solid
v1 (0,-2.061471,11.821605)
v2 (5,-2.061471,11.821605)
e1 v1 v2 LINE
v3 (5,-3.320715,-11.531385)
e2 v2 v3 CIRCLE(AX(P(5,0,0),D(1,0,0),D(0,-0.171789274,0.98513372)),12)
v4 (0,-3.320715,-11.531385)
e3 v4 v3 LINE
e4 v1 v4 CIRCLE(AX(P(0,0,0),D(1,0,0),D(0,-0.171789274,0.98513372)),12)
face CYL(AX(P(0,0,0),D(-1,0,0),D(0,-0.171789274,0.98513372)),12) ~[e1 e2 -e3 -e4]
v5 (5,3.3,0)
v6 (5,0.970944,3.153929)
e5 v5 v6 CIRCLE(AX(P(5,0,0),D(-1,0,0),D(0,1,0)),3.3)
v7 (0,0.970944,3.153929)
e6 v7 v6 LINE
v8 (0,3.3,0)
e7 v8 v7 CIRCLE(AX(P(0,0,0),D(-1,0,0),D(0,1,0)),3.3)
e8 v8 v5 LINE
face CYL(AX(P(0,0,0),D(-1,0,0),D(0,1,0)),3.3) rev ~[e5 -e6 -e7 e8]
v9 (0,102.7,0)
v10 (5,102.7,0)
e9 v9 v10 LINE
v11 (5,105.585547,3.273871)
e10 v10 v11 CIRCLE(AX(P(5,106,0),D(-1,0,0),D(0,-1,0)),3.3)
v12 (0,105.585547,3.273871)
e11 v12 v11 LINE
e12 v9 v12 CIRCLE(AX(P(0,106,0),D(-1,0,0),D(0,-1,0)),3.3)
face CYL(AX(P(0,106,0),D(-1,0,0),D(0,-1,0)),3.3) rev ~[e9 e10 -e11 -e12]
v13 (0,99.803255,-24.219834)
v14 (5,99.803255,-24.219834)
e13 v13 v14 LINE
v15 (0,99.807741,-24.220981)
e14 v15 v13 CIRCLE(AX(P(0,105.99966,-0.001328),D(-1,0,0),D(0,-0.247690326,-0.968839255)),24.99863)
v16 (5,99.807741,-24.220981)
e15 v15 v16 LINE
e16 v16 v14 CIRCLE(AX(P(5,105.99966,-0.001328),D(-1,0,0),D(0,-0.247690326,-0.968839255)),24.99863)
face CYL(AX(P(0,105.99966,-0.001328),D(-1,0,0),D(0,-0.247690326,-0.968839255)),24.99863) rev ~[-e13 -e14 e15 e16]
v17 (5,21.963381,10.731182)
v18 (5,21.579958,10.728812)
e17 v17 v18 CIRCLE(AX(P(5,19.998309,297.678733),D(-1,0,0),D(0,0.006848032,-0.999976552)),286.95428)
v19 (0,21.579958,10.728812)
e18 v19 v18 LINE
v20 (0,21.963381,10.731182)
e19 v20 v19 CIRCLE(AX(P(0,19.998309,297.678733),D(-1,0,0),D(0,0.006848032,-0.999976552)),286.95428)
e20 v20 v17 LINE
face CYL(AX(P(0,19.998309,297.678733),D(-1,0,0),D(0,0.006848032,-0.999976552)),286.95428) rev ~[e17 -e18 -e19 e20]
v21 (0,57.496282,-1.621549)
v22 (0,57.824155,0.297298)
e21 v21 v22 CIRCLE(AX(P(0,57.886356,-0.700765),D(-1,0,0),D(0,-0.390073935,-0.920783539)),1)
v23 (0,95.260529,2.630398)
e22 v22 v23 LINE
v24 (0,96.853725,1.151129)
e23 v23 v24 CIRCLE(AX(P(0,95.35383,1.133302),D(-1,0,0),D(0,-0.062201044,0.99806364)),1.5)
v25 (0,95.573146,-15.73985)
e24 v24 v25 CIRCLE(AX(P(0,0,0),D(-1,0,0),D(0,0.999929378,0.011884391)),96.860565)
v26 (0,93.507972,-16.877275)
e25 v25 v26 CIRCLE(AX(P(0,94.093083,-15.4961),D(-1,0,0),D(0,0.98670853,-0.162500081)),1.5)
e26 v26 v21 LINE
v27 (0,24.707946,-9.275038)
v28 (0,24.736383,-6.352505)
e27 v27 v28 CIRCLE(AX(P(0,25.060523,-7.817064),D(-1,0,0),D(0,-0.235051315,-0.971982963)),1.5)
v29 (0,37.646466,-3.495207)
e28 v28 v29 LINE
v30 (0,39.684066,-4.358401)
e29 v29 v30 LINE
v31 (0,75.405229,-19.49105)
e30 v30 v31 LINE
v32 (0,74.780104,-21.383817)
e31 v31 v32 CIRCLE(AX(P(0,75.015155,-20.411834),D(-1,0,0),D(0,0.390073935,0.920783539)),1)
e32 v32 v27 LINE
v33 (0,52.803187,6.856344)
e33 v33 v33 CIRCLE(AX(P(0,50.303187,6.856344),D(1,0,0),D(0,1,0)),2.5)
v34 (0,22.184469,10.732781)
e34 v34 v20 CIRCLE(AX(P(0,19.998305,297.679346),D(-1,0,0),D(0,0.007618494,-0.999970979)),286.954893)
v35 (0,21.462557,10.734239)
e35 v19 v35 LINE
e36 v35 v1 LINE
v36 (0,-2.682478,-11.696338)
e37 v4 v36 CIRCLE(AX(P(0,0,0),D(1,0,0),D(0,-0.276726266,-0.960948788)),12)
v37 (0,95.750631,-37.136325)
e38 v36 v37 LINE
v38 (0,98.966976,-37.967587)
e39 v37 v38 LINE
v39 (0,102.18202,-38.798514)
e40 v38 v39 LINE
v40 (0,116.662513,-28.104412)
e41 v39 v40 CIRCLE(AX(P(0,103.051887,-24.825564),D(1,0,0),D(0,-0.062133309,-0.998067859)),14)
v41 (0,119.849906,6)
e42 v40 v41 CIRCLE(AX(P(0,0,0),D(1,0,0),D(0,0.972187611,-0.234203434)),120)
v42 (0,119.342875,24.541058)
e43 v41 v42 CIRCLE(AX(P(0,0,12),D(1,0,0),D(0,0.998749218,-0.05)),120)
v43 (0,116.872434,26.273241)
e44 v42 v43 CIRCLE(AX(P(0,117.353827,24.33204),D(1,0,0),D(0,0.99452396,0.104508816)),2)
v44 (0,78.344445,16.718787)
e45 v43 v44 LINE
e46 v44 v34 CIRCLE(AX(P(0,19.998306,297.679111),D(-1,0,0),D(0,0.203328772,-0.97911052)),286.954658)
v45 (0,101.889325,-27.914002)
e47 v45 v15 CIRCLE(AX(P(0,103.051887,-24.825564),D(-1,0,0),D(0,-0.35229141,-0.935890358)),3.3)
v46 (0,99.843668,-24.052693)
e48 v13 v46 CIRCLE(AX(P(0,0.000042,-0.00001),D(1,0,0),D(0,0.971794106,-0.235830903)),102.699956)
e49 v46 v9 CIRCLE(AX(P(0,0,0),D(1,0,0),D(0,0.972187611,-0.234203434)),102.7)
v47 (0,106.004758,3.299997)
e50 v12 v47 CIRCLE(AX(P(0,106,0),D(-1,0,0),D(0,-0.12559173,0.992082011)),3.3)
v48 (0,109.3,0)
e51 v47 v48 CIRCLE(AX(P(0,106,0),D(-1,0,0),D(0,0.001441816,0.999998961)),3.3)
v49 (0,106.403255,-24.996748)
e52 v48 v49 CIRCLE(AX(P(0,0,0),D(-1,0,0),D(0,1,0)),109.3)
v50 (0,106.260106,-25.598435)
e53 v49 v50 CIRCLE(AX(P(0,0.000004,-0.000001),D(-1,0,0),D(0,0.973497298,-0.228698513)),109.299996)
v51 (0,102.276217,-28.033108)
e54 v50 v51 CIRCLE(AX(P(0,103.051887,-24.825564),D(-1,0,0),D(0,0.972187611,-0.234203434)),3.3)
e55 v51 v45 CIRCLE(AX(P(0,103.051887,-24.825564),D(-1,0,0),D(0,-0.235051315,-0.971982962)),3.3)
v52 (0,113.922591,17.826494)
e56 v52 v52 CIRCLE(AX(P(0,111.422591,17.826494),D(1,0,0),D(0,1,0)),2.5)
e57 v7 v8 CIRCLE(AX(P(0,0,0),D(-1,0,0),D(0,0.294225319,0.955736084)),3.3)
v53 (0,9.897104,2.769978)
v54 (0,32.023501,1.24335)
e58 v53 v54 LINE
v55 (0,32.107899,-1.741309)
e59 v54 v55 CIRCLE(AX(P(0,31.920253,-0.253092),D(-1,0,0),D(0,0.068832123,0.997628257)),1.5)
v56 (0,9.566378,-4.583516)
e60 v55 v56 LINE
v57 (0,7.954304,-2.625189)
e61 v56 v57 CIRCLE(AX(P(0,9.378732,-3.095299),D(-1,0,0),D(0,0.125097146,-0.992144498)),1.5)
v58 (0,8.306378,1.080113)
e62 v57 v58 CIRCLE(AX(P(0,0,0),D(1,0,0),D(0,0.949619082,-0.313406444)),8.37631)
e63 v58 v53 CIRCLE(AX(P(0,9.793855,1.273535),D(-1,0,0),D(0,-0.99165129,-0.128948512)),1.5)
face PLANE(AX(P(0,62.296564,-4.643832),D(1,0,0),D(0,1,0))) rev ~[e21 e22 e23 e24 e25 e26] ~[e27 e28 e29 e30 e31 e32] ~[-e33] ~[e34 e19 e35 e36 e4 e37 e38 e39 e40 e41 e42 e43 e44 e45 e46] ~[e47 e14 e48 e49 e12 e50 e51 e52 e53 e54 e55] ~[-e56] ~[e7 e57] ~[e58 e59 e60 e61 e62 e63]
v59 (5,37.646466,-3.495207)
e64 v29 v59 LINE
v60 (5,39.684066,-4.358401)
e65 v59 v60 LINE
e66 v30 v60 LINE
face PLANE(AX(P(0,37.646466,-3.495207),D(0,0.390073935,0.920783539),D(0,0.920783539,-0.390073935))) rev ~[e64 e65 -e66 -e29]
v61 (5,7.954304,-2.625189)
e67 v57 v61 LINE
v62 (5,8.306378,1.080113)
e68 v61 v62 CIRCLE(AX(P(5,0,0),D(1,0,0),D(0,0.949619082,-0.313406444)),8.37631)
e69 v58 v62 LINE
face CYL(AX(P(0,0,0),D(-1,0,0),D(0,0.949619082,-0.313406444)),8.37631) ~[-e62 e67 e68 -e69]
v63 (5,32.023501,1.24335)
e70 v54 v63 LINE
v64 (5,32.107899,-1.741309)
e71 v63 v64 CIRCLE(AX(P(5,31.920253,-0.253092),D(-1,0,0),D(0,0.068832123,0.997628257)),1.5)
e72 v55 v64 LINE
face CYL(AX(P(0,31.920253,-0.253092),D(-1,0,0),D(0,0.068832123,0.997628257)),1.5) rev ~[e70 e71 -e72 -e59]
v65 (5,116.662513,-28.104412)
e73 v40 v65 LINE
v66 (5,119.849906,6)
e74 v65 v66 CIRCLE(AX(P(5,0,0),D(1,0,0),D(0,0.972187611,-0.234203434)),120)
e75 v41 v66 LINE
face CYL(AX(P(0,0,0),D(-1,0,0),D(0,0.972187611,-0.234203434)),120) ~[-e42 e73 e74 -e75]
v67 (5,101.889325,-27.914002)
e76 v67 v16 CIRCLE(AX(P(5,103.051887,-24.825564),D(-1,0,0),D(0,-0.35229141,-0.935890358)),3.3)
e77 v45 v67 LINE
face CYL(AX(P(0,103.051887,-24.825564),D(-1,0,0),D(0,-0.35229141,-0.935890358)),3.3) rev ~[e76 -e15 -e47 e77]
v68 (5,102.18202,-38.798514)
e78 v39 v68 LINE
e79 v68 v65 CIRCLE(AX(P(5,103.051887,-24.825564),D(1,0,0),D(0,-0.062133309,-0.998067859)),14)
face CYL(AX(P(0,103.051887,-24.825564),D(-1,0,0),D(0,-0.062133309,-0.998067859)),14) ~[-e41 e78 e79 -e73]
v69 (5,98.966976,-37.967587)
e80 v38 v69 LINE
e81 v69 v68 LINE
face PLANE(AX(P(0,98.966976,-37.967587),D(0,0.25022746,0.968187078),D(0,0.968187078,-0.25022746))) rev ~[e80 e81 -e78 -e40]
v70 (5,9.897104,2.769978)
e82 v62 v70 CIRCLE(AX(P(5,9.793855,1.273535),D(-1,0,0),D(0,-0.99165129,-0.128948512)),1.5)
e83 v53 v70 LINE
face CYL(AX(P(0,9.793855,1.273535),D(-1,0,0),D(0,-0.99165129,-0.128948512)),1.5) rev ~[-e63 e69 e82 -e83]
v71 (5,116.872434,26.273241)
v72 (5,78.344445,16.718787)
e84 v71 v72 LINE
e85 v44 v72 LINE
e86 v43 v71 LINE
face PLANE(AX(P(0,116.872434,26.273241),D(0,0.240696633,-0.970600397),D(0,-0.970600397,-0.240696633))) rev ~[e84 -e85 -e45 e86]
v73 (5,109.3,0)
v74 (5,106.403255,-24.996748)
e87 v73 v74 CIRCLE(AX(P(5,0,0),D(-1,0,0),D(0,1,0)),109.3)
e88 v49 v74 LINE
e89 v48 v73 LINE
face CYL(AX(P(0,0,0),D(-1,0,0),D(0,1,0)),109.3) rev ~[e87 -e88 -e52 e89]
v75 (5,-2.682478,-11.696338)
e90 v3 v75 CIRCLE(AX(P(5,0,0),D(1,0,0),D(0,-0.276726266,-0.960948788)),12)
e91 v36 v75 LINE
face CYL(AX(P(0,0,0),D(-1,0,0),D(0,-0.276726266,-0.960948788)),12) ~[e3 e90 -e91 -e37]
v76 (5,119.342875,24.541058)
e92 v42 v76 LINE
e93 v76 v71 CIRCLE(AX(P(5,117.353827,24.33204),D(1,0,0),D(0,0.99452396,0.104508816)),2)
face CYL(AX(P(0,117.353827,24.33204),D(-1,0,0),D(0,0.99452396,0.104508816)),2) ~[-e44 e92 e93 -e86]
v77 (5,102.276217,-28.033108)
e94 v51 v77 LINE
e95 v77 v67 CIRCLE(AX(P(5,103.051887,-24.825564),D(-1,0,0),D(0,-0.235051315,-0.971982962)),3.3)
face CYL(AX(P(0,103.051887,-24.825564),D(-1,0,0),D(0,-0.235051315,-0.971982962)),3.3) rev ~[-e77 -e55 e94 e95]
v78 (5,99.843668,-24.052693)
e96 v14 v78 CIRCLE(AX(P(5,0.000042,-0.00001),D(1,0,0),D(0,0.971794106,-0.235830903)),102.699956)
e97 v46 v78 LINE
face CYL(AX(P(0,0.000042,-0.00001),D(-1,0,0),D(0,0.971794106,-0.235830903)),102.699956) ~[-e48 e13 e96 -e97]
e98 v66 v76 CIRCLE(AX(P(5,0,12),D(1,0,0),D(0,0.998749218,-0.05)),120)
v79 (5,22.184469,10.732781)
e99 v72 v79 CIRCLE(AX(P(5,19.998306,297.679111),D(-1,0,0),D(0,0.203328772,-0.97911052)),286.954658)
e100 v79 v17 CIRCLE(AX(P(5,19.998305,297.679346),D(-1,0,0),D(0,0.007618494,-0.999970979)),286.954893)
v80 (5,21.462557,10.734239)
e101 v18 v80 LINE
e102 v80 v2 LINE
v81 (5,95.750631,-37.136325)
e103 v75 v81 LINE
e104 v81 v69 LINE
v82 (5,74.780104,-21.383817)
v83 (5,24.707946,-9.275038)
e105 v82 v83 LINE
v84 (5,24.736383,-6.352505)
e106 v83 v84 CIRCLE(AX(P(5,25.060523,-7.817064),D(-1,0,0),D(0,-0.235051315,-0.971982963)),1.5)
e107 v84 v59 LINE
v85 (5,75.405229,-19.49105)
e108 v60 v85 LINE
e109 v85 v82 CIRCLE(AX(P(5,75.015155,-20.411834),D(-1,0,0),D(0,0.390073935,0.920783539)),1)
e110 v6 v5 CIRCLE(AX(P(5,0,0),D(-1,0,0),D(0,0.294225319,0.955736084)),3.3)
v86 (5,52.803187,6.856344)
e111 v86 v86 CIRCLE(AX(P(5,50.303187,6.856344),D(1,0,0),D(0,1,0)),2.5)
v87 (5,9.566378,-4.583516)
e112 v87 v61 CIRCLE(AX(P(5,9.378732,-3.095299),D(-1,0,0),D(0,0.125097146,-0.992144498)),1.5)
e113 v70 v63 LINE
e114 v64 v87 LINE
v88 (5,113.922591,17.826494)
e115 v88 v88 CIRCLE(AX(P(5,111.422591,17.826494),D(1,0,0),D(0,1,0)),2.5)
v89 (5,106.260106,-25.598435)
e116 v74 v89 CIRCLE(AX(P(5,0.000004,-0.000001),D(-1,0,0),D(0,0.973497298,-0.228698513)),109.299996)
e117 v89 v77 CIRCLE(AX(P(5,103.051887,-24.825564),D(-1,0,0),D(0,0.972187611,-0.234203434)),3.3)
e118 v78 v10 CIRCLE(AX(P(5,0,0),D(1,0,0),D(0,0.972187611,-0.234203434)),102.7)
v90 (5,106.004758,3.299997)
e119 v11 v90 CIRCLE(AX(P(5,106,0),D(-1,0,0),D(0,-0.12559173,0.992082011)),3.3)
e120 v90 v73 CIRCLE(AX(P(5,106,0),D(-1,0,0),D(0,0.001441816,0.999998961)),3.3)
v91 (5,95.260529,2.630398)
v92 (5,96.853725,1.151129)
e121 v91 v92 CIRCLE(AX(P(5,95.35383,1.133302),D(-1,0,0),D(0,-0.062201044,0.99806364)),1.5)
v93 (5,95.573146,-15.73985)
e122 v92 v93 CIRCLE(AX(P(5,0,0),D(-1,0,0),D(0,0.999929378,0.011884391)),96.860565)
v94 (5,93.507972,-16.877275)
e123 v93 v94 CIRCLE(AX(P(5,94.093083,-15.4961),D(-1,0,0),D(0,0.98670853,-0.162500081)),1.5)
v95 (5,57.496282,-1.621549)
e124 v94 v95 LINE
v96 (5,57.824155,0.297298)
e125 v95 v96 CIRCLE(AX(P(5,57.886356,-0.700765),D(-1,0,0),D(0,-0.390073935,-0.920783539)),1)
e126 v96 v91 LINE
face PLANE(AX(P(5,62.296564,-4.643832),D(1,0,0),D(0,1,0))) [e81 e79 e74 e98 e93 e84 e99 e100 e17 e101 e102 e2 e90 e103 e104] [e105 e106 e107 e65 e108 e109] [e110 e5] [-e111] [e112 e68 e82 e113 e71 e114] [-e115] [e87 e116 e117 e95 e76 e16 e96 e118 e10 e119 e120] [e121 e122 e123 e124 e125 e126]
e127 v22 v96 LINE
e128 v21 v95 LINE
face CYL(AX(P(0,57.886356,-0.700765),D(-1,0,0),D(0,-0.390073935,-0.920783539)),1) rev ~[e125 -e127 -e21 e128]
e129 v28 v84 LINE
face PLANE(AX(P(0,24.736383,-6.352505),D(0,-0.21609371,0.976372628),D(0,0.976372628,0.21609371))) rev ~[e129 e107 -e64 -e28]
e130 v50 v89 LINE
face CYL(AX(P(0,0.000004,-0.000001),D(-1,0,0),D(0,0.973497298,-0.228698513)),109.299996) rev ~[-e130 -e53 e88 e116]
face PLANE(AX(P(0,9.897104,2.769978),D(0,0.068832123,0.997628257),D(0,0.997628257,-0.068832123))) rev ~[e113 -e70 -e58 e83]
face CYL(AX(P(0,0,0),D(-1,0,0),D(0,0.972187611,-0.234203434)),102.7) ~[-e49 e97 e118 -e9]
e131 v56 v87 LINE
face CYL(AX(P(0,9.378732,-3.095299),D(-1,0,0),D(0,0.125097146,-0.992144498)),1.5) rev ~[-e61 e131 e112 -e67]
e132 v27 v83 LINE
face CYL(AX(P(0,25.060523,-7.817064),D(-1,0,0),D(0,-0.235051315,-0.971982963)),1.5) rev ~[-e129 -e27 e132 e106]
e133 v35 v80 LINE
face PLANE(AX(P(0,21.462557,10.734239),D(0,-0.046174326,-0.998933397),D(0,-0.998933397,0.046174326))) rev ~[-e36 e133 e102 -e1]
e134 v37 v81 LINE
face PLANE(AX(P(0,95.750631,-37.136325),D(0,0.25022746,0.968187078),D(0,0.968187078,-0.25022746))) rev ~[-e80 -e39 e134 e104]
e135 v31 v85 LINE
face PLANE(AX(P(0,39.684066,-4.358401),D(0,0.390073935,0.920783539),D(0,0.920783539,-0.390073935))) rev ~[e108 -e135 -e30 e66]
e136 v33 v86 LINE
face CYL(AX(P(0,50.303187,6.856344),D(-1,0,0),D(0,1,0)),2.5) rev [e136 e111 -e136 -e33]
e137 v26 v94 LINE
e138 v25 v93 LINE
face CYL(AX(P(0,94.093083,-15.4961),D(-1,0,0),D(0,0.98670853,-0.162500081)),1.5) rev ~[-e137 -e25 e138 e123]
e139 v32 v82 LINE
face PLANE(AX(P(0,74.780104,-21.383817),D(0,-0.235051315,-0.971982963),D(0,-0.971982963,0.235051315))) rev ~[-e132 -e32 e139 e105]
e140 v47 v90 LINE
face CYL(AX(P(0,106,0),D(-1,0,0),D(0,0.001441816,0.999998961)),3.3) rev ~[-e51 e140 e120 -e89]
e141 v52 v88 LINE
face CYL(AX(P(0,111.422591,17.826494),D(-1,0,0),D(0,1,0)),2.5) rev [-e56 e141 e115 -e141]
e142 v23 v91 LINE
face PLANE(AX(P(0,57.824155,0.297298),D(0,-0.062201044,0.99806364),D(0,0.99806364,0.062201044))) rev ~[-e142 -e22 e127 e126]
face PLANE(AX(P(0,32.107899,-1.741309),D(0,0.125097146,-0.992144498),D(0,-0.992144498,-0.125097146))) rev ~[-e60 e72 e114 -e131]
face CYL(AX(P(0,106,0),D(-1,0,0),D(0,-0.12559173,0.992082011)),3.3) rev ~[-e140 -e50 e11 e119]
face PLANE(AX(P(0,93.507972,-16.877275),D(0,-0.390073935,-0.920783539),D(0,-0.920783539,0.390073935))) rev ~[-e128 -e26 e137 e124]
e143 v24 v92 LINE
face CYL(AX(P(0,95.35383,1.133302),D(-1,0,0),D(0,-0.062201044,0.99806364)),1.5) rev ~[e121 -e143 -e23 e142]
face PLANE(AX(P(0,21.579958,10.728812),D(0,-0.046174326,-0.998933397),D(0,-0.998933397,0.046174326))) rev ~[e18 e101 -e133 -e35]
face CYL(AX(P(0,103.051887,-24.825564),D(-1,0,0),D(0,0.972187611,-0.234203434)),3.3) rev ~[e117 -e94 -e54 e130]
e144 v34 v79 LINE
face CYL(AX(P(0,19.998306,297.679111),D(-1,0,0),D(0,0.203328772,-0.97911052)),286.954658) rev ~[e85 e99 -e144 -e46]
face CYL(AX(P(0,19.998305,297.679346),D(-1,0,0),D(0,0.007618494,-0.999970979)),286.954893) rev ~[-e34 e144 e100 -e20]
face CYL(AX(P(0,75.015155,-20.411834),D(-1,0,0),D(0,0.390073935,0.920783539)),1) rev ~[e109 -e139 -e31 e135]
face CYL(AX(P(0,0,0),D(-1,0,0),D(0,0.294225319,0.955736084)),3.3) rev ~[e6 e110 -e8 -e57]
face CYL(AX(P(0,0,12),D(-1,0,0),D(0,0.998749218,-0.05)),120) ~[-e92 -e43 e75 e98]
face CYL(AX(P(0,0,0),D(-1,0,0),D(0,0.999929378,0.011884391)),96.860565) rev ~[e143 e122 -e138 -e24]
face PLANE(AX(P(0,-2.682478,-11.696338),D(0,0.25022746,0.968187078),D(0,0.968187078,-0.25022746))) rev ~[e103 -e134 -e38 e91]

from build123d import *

# Parameters (mm, degrees)
F0_R     = 2.5
F1_DEPTH = 5


with BuildPart() as f1:
    # F0 (on Right) → F1 (new body)
    with BuildSketch(Plane.YZ):
        with BuildLine():
            ThreePointArc((102.1820204733, -38.7985140437), (111.3688992979, -36.087326884), (116.6625133499, -28.1044120891))
            ThreePointArc((116.6625133499, -28.1044120891), (119.4793240413, -11.1665181072), (119.8499061326, 6))
            ThreePointArc((119.8499061326, 6), (119.9551556627, 15.2803399129), (119.3428752162, 24.5410579746))
            ThreePointArc((119.3428752162, 24.5410579746), (118.5020303548, 25.9696085801), (116.872434029, 26.2732411356))
            Line((116.872434029, 26.2732411356), (78.344444671, 16.7187866332))
            ThreePointArc((78.344444671, 16.7187866332), (50.4120849121, 12.3407543123), (22.1844688263, 10.7327808001))
            ThreePointArc((22.1844688263, 10.7327808001), (22.0736743793, 10.7245163933), (21.9626931438, 10.7193322557))
            ThreePointArc((21.9626931438, 10.7193322557), (21.897134346, 10.7177196915), (21.8315579223, 10.717182122))
            ThreePointArc((21.8315579223, 10.717182122), (21.6468606164, 10.7214485341), (21.4625573078, 10.7342386694))
            Line((21.4625573078, 10.7342386694), (-2.0614712889, 11.8216046341))
            ThreePointArc((-2.0614712889, 11.8216046341), (-11.9825923491, 0.6461273838), (-3.3207151947, -11.5313854586))
            Line((-3.3207151947, -11.5313854586), (-2.6824780436, -11.696337527))
            Line((-2.6824780436, -11.696337527), (95.7506312441, -37.1363247556))
            Line((95.7506312441, -37.1363247556), (98.966975845, -37.9675873883))
            Line((98.966975845, -37.9675873883), (102.1820204733, -38.7985140437))
        make_face()
        with BuildLine():
            Line((74.7801037599, -21.3838166757), (24.7079464878, -9.2750381753))
            ThreePointArc((24.7079464878, -9.2750381753), (23.5605944603, -7.8024693416), (24.7363828951, -6.3525047896))
            Line((24.7363828951, -6.3525047896), (37.64646566, -3.4952066638))
            Line((37.64646566, -3.4952066638), (39.6840657747, -4.3584005208))
            Line((39.6840657747, -4.3584005208), (75.4052290095, -19.4910501744))
            ThreePointArc((75.4052290095, -19.4910501744), (75.9647072114, -20.7254429281), (74.7801037599, -21.3838166757))
        make_face(mode=Mode.SUBTRACT)
        with BuildLine():
            ThreePointArc((96.8537245562, 1.1511288497), (96.5833908806, -7.3224083499), (95.5731457656, -15.7398496344))
            ThreePointArc((95.5731457656, -15.7398496344), (94.8167325655, -16.8099987725), (93.5079720679, -16.8772748216))
            Line((93.5079720679, -16.8772748216), (57.4962823848, -1.6215486902))
            ThreePointArc((57.4962823848, -1.6215486902), (56.9006424726, -0.5323364967), (57.8241552759, 0.297298489))
            Line((57.8241552759, 0.297298489), (95.2605289234, 2.6303977234))
            ThreePointArc((95.2605289234, 2.6303977234), (96.3744600577, 2.2325362159), (96.8537245562, 1.1511288497))
        make_face(mode=Mode.SUBTRACT)
        with BuildLine():
            ThreePointArc((106.0047579916, 3.2999965699), (108.335133976, 2.3317695671), (109.3, 0))
            ThreePointArc((109.3, 0), (108.5733985389, -12.5820161229), (106.403254717, -24.9967475011))
            ThreePointArc((106.403254717, -24.9967475011), (106.3321059009, -25.2976926752), (106.2601059096, -25.5984353445))
            ThreePointArc((106.2601059096, -25.5984353445), (104.7727098756, -27.6413708088), (102.2762174538, -28.0331077884))
            ThreePointArc((102.2762174538, -28.0331077884), (102.0809432414, -27.9794930887), (101.8893251401, -27.9140021941))
            ThreePointArc((101.8893251401, -27.9140021941), (100.1771054463, -26.4459442797), (99.8077413449, -24.2209812507))
            ThreePointArc((99.8077413449, -24.2209812507), (99.8054980044, -24.2204076148), (99.803254717, -24.2198337711))
            ThreePointArc((99.803254717, -24.2198337711), (99.8234961781, -24.1362716836), (99.8436676753, -24.0526926796))
            ThreePointArc((99.8436676753, -24.0526926796), (101.9834169614, -12.1108490566), (102.7, 0))
            ThreePointArc((102.7, 0), (103.5243491823, 2.1820066519), (105.5855472903, 3.2738706376))
            ThreePointArc((105.5855472903, 3.2738706376), (105.7947365556, 3.2936100131), (106.0047579916, 3.2999965699))
        make_face(mode=Mode.SUBTRACT)
        with BuildLine():
            ThreePointArc((0.9709435511, 3.1539290767), (2.6546293261, 1.960342608), (3.3, 0))
            ThreePointArc((3.3, 0), (-2.6546293261, -1.960342608), (0.9709435511, 3.1539290767))
        make_face(mode=Mode.SUBTRACT)
        with BuildLine():
            ThreePointArc((9.5663779465, -4.5835158726), (8.220643901, -4.0486256327), (7.9543036044, -2.6251894605))
            ThreePointArc((7.9543036044, -2.6251894605), (8.3387505543, -0.792341295), (8.3063784002, 1.0801126827))
            ThreePointArc((8.3063784002, 1.0801126827), (8.7016404445, 2.3016729085), (9.8971035196, 2.769977836))
            Line((9.8971035196, 2.769977836), (32.0235012294, 1.2433501427))
            ThreePointArc((32.0235012294, 1.2433501427), (33.4196537084, -0.210693525), (32.1078987642, -1.7413089889))
            Line((32.1078987642, -1.7413089889), (9.5663779465, -4.5835158726))
        make_face(mode=Mode.SUBTRACT)
        with Locations((50.3031872213, 6.8563437089)):
            Circle(F0_R, mode=Mode.SUBTRACT)
        with Locations((111.4225909114, 17.8264938295)):
            Circle(F0_R, mode=Mode.SUBTRACT)
        with BuildLine():
            ThreePointArc((-3.3207151947, -11.5313854586), (-3.0027295184, -11.618244938), (-2.6824780436, -11.696337527))
            Line((-2.6824780436, -11.696337527), (-3.3207151947, -11.5313854586))
        make_face()
        with BuildLine():
            ThreePointArc((21.9626931438, 10.7193322557), (22.0736743793, 10.7245163933), (22.1844688263, 10.7327808001))
            ThreePointArc((22.1844688263, 10.7327808001), (22.0739250085, 10.7319598925), (21.9633808826, 10.731181571))
            ThreePointArc((21.9633808826, 10.731181571), (21.9630378123, 10.7252568669), (21.9626931438, 10.7193322557))
        make_face()
        with BuildLine():
            ThreePointArc((21.8315579223, 10.717182122), (21.897134346, 10.7177196915), (21.9626931438, 10.7193322557))
            ThreePointArc((21.9626931438, 10.7193322557), (21.9630378123, 10.7252568669), (21.9633808826, 10.731181571))
            ThreePointArc((21.9633808826, 10.731181571), (21.7716697335, 10.7299327404), (21.5799577929, 10.728811993))
            Line((21.5799577929, 10.728811993), (21.8315579223, 10.717182122))
        make_face()
        with BuildLine():
            ThreePointArc((21.4625573078, 10.7342386694), (21.6468606164, 10.7214485341), (21.8315579223, 10.717182122))
            Line((21.8315579223, 10.717182122), (21.5799577929, 10.728811993))
            Line((21.5799577929, 10.728811993), (21.4625573078, 10.7342386694))
        make_face()
    extrude(amount=F1_DEPTH)


solid = f1.part
